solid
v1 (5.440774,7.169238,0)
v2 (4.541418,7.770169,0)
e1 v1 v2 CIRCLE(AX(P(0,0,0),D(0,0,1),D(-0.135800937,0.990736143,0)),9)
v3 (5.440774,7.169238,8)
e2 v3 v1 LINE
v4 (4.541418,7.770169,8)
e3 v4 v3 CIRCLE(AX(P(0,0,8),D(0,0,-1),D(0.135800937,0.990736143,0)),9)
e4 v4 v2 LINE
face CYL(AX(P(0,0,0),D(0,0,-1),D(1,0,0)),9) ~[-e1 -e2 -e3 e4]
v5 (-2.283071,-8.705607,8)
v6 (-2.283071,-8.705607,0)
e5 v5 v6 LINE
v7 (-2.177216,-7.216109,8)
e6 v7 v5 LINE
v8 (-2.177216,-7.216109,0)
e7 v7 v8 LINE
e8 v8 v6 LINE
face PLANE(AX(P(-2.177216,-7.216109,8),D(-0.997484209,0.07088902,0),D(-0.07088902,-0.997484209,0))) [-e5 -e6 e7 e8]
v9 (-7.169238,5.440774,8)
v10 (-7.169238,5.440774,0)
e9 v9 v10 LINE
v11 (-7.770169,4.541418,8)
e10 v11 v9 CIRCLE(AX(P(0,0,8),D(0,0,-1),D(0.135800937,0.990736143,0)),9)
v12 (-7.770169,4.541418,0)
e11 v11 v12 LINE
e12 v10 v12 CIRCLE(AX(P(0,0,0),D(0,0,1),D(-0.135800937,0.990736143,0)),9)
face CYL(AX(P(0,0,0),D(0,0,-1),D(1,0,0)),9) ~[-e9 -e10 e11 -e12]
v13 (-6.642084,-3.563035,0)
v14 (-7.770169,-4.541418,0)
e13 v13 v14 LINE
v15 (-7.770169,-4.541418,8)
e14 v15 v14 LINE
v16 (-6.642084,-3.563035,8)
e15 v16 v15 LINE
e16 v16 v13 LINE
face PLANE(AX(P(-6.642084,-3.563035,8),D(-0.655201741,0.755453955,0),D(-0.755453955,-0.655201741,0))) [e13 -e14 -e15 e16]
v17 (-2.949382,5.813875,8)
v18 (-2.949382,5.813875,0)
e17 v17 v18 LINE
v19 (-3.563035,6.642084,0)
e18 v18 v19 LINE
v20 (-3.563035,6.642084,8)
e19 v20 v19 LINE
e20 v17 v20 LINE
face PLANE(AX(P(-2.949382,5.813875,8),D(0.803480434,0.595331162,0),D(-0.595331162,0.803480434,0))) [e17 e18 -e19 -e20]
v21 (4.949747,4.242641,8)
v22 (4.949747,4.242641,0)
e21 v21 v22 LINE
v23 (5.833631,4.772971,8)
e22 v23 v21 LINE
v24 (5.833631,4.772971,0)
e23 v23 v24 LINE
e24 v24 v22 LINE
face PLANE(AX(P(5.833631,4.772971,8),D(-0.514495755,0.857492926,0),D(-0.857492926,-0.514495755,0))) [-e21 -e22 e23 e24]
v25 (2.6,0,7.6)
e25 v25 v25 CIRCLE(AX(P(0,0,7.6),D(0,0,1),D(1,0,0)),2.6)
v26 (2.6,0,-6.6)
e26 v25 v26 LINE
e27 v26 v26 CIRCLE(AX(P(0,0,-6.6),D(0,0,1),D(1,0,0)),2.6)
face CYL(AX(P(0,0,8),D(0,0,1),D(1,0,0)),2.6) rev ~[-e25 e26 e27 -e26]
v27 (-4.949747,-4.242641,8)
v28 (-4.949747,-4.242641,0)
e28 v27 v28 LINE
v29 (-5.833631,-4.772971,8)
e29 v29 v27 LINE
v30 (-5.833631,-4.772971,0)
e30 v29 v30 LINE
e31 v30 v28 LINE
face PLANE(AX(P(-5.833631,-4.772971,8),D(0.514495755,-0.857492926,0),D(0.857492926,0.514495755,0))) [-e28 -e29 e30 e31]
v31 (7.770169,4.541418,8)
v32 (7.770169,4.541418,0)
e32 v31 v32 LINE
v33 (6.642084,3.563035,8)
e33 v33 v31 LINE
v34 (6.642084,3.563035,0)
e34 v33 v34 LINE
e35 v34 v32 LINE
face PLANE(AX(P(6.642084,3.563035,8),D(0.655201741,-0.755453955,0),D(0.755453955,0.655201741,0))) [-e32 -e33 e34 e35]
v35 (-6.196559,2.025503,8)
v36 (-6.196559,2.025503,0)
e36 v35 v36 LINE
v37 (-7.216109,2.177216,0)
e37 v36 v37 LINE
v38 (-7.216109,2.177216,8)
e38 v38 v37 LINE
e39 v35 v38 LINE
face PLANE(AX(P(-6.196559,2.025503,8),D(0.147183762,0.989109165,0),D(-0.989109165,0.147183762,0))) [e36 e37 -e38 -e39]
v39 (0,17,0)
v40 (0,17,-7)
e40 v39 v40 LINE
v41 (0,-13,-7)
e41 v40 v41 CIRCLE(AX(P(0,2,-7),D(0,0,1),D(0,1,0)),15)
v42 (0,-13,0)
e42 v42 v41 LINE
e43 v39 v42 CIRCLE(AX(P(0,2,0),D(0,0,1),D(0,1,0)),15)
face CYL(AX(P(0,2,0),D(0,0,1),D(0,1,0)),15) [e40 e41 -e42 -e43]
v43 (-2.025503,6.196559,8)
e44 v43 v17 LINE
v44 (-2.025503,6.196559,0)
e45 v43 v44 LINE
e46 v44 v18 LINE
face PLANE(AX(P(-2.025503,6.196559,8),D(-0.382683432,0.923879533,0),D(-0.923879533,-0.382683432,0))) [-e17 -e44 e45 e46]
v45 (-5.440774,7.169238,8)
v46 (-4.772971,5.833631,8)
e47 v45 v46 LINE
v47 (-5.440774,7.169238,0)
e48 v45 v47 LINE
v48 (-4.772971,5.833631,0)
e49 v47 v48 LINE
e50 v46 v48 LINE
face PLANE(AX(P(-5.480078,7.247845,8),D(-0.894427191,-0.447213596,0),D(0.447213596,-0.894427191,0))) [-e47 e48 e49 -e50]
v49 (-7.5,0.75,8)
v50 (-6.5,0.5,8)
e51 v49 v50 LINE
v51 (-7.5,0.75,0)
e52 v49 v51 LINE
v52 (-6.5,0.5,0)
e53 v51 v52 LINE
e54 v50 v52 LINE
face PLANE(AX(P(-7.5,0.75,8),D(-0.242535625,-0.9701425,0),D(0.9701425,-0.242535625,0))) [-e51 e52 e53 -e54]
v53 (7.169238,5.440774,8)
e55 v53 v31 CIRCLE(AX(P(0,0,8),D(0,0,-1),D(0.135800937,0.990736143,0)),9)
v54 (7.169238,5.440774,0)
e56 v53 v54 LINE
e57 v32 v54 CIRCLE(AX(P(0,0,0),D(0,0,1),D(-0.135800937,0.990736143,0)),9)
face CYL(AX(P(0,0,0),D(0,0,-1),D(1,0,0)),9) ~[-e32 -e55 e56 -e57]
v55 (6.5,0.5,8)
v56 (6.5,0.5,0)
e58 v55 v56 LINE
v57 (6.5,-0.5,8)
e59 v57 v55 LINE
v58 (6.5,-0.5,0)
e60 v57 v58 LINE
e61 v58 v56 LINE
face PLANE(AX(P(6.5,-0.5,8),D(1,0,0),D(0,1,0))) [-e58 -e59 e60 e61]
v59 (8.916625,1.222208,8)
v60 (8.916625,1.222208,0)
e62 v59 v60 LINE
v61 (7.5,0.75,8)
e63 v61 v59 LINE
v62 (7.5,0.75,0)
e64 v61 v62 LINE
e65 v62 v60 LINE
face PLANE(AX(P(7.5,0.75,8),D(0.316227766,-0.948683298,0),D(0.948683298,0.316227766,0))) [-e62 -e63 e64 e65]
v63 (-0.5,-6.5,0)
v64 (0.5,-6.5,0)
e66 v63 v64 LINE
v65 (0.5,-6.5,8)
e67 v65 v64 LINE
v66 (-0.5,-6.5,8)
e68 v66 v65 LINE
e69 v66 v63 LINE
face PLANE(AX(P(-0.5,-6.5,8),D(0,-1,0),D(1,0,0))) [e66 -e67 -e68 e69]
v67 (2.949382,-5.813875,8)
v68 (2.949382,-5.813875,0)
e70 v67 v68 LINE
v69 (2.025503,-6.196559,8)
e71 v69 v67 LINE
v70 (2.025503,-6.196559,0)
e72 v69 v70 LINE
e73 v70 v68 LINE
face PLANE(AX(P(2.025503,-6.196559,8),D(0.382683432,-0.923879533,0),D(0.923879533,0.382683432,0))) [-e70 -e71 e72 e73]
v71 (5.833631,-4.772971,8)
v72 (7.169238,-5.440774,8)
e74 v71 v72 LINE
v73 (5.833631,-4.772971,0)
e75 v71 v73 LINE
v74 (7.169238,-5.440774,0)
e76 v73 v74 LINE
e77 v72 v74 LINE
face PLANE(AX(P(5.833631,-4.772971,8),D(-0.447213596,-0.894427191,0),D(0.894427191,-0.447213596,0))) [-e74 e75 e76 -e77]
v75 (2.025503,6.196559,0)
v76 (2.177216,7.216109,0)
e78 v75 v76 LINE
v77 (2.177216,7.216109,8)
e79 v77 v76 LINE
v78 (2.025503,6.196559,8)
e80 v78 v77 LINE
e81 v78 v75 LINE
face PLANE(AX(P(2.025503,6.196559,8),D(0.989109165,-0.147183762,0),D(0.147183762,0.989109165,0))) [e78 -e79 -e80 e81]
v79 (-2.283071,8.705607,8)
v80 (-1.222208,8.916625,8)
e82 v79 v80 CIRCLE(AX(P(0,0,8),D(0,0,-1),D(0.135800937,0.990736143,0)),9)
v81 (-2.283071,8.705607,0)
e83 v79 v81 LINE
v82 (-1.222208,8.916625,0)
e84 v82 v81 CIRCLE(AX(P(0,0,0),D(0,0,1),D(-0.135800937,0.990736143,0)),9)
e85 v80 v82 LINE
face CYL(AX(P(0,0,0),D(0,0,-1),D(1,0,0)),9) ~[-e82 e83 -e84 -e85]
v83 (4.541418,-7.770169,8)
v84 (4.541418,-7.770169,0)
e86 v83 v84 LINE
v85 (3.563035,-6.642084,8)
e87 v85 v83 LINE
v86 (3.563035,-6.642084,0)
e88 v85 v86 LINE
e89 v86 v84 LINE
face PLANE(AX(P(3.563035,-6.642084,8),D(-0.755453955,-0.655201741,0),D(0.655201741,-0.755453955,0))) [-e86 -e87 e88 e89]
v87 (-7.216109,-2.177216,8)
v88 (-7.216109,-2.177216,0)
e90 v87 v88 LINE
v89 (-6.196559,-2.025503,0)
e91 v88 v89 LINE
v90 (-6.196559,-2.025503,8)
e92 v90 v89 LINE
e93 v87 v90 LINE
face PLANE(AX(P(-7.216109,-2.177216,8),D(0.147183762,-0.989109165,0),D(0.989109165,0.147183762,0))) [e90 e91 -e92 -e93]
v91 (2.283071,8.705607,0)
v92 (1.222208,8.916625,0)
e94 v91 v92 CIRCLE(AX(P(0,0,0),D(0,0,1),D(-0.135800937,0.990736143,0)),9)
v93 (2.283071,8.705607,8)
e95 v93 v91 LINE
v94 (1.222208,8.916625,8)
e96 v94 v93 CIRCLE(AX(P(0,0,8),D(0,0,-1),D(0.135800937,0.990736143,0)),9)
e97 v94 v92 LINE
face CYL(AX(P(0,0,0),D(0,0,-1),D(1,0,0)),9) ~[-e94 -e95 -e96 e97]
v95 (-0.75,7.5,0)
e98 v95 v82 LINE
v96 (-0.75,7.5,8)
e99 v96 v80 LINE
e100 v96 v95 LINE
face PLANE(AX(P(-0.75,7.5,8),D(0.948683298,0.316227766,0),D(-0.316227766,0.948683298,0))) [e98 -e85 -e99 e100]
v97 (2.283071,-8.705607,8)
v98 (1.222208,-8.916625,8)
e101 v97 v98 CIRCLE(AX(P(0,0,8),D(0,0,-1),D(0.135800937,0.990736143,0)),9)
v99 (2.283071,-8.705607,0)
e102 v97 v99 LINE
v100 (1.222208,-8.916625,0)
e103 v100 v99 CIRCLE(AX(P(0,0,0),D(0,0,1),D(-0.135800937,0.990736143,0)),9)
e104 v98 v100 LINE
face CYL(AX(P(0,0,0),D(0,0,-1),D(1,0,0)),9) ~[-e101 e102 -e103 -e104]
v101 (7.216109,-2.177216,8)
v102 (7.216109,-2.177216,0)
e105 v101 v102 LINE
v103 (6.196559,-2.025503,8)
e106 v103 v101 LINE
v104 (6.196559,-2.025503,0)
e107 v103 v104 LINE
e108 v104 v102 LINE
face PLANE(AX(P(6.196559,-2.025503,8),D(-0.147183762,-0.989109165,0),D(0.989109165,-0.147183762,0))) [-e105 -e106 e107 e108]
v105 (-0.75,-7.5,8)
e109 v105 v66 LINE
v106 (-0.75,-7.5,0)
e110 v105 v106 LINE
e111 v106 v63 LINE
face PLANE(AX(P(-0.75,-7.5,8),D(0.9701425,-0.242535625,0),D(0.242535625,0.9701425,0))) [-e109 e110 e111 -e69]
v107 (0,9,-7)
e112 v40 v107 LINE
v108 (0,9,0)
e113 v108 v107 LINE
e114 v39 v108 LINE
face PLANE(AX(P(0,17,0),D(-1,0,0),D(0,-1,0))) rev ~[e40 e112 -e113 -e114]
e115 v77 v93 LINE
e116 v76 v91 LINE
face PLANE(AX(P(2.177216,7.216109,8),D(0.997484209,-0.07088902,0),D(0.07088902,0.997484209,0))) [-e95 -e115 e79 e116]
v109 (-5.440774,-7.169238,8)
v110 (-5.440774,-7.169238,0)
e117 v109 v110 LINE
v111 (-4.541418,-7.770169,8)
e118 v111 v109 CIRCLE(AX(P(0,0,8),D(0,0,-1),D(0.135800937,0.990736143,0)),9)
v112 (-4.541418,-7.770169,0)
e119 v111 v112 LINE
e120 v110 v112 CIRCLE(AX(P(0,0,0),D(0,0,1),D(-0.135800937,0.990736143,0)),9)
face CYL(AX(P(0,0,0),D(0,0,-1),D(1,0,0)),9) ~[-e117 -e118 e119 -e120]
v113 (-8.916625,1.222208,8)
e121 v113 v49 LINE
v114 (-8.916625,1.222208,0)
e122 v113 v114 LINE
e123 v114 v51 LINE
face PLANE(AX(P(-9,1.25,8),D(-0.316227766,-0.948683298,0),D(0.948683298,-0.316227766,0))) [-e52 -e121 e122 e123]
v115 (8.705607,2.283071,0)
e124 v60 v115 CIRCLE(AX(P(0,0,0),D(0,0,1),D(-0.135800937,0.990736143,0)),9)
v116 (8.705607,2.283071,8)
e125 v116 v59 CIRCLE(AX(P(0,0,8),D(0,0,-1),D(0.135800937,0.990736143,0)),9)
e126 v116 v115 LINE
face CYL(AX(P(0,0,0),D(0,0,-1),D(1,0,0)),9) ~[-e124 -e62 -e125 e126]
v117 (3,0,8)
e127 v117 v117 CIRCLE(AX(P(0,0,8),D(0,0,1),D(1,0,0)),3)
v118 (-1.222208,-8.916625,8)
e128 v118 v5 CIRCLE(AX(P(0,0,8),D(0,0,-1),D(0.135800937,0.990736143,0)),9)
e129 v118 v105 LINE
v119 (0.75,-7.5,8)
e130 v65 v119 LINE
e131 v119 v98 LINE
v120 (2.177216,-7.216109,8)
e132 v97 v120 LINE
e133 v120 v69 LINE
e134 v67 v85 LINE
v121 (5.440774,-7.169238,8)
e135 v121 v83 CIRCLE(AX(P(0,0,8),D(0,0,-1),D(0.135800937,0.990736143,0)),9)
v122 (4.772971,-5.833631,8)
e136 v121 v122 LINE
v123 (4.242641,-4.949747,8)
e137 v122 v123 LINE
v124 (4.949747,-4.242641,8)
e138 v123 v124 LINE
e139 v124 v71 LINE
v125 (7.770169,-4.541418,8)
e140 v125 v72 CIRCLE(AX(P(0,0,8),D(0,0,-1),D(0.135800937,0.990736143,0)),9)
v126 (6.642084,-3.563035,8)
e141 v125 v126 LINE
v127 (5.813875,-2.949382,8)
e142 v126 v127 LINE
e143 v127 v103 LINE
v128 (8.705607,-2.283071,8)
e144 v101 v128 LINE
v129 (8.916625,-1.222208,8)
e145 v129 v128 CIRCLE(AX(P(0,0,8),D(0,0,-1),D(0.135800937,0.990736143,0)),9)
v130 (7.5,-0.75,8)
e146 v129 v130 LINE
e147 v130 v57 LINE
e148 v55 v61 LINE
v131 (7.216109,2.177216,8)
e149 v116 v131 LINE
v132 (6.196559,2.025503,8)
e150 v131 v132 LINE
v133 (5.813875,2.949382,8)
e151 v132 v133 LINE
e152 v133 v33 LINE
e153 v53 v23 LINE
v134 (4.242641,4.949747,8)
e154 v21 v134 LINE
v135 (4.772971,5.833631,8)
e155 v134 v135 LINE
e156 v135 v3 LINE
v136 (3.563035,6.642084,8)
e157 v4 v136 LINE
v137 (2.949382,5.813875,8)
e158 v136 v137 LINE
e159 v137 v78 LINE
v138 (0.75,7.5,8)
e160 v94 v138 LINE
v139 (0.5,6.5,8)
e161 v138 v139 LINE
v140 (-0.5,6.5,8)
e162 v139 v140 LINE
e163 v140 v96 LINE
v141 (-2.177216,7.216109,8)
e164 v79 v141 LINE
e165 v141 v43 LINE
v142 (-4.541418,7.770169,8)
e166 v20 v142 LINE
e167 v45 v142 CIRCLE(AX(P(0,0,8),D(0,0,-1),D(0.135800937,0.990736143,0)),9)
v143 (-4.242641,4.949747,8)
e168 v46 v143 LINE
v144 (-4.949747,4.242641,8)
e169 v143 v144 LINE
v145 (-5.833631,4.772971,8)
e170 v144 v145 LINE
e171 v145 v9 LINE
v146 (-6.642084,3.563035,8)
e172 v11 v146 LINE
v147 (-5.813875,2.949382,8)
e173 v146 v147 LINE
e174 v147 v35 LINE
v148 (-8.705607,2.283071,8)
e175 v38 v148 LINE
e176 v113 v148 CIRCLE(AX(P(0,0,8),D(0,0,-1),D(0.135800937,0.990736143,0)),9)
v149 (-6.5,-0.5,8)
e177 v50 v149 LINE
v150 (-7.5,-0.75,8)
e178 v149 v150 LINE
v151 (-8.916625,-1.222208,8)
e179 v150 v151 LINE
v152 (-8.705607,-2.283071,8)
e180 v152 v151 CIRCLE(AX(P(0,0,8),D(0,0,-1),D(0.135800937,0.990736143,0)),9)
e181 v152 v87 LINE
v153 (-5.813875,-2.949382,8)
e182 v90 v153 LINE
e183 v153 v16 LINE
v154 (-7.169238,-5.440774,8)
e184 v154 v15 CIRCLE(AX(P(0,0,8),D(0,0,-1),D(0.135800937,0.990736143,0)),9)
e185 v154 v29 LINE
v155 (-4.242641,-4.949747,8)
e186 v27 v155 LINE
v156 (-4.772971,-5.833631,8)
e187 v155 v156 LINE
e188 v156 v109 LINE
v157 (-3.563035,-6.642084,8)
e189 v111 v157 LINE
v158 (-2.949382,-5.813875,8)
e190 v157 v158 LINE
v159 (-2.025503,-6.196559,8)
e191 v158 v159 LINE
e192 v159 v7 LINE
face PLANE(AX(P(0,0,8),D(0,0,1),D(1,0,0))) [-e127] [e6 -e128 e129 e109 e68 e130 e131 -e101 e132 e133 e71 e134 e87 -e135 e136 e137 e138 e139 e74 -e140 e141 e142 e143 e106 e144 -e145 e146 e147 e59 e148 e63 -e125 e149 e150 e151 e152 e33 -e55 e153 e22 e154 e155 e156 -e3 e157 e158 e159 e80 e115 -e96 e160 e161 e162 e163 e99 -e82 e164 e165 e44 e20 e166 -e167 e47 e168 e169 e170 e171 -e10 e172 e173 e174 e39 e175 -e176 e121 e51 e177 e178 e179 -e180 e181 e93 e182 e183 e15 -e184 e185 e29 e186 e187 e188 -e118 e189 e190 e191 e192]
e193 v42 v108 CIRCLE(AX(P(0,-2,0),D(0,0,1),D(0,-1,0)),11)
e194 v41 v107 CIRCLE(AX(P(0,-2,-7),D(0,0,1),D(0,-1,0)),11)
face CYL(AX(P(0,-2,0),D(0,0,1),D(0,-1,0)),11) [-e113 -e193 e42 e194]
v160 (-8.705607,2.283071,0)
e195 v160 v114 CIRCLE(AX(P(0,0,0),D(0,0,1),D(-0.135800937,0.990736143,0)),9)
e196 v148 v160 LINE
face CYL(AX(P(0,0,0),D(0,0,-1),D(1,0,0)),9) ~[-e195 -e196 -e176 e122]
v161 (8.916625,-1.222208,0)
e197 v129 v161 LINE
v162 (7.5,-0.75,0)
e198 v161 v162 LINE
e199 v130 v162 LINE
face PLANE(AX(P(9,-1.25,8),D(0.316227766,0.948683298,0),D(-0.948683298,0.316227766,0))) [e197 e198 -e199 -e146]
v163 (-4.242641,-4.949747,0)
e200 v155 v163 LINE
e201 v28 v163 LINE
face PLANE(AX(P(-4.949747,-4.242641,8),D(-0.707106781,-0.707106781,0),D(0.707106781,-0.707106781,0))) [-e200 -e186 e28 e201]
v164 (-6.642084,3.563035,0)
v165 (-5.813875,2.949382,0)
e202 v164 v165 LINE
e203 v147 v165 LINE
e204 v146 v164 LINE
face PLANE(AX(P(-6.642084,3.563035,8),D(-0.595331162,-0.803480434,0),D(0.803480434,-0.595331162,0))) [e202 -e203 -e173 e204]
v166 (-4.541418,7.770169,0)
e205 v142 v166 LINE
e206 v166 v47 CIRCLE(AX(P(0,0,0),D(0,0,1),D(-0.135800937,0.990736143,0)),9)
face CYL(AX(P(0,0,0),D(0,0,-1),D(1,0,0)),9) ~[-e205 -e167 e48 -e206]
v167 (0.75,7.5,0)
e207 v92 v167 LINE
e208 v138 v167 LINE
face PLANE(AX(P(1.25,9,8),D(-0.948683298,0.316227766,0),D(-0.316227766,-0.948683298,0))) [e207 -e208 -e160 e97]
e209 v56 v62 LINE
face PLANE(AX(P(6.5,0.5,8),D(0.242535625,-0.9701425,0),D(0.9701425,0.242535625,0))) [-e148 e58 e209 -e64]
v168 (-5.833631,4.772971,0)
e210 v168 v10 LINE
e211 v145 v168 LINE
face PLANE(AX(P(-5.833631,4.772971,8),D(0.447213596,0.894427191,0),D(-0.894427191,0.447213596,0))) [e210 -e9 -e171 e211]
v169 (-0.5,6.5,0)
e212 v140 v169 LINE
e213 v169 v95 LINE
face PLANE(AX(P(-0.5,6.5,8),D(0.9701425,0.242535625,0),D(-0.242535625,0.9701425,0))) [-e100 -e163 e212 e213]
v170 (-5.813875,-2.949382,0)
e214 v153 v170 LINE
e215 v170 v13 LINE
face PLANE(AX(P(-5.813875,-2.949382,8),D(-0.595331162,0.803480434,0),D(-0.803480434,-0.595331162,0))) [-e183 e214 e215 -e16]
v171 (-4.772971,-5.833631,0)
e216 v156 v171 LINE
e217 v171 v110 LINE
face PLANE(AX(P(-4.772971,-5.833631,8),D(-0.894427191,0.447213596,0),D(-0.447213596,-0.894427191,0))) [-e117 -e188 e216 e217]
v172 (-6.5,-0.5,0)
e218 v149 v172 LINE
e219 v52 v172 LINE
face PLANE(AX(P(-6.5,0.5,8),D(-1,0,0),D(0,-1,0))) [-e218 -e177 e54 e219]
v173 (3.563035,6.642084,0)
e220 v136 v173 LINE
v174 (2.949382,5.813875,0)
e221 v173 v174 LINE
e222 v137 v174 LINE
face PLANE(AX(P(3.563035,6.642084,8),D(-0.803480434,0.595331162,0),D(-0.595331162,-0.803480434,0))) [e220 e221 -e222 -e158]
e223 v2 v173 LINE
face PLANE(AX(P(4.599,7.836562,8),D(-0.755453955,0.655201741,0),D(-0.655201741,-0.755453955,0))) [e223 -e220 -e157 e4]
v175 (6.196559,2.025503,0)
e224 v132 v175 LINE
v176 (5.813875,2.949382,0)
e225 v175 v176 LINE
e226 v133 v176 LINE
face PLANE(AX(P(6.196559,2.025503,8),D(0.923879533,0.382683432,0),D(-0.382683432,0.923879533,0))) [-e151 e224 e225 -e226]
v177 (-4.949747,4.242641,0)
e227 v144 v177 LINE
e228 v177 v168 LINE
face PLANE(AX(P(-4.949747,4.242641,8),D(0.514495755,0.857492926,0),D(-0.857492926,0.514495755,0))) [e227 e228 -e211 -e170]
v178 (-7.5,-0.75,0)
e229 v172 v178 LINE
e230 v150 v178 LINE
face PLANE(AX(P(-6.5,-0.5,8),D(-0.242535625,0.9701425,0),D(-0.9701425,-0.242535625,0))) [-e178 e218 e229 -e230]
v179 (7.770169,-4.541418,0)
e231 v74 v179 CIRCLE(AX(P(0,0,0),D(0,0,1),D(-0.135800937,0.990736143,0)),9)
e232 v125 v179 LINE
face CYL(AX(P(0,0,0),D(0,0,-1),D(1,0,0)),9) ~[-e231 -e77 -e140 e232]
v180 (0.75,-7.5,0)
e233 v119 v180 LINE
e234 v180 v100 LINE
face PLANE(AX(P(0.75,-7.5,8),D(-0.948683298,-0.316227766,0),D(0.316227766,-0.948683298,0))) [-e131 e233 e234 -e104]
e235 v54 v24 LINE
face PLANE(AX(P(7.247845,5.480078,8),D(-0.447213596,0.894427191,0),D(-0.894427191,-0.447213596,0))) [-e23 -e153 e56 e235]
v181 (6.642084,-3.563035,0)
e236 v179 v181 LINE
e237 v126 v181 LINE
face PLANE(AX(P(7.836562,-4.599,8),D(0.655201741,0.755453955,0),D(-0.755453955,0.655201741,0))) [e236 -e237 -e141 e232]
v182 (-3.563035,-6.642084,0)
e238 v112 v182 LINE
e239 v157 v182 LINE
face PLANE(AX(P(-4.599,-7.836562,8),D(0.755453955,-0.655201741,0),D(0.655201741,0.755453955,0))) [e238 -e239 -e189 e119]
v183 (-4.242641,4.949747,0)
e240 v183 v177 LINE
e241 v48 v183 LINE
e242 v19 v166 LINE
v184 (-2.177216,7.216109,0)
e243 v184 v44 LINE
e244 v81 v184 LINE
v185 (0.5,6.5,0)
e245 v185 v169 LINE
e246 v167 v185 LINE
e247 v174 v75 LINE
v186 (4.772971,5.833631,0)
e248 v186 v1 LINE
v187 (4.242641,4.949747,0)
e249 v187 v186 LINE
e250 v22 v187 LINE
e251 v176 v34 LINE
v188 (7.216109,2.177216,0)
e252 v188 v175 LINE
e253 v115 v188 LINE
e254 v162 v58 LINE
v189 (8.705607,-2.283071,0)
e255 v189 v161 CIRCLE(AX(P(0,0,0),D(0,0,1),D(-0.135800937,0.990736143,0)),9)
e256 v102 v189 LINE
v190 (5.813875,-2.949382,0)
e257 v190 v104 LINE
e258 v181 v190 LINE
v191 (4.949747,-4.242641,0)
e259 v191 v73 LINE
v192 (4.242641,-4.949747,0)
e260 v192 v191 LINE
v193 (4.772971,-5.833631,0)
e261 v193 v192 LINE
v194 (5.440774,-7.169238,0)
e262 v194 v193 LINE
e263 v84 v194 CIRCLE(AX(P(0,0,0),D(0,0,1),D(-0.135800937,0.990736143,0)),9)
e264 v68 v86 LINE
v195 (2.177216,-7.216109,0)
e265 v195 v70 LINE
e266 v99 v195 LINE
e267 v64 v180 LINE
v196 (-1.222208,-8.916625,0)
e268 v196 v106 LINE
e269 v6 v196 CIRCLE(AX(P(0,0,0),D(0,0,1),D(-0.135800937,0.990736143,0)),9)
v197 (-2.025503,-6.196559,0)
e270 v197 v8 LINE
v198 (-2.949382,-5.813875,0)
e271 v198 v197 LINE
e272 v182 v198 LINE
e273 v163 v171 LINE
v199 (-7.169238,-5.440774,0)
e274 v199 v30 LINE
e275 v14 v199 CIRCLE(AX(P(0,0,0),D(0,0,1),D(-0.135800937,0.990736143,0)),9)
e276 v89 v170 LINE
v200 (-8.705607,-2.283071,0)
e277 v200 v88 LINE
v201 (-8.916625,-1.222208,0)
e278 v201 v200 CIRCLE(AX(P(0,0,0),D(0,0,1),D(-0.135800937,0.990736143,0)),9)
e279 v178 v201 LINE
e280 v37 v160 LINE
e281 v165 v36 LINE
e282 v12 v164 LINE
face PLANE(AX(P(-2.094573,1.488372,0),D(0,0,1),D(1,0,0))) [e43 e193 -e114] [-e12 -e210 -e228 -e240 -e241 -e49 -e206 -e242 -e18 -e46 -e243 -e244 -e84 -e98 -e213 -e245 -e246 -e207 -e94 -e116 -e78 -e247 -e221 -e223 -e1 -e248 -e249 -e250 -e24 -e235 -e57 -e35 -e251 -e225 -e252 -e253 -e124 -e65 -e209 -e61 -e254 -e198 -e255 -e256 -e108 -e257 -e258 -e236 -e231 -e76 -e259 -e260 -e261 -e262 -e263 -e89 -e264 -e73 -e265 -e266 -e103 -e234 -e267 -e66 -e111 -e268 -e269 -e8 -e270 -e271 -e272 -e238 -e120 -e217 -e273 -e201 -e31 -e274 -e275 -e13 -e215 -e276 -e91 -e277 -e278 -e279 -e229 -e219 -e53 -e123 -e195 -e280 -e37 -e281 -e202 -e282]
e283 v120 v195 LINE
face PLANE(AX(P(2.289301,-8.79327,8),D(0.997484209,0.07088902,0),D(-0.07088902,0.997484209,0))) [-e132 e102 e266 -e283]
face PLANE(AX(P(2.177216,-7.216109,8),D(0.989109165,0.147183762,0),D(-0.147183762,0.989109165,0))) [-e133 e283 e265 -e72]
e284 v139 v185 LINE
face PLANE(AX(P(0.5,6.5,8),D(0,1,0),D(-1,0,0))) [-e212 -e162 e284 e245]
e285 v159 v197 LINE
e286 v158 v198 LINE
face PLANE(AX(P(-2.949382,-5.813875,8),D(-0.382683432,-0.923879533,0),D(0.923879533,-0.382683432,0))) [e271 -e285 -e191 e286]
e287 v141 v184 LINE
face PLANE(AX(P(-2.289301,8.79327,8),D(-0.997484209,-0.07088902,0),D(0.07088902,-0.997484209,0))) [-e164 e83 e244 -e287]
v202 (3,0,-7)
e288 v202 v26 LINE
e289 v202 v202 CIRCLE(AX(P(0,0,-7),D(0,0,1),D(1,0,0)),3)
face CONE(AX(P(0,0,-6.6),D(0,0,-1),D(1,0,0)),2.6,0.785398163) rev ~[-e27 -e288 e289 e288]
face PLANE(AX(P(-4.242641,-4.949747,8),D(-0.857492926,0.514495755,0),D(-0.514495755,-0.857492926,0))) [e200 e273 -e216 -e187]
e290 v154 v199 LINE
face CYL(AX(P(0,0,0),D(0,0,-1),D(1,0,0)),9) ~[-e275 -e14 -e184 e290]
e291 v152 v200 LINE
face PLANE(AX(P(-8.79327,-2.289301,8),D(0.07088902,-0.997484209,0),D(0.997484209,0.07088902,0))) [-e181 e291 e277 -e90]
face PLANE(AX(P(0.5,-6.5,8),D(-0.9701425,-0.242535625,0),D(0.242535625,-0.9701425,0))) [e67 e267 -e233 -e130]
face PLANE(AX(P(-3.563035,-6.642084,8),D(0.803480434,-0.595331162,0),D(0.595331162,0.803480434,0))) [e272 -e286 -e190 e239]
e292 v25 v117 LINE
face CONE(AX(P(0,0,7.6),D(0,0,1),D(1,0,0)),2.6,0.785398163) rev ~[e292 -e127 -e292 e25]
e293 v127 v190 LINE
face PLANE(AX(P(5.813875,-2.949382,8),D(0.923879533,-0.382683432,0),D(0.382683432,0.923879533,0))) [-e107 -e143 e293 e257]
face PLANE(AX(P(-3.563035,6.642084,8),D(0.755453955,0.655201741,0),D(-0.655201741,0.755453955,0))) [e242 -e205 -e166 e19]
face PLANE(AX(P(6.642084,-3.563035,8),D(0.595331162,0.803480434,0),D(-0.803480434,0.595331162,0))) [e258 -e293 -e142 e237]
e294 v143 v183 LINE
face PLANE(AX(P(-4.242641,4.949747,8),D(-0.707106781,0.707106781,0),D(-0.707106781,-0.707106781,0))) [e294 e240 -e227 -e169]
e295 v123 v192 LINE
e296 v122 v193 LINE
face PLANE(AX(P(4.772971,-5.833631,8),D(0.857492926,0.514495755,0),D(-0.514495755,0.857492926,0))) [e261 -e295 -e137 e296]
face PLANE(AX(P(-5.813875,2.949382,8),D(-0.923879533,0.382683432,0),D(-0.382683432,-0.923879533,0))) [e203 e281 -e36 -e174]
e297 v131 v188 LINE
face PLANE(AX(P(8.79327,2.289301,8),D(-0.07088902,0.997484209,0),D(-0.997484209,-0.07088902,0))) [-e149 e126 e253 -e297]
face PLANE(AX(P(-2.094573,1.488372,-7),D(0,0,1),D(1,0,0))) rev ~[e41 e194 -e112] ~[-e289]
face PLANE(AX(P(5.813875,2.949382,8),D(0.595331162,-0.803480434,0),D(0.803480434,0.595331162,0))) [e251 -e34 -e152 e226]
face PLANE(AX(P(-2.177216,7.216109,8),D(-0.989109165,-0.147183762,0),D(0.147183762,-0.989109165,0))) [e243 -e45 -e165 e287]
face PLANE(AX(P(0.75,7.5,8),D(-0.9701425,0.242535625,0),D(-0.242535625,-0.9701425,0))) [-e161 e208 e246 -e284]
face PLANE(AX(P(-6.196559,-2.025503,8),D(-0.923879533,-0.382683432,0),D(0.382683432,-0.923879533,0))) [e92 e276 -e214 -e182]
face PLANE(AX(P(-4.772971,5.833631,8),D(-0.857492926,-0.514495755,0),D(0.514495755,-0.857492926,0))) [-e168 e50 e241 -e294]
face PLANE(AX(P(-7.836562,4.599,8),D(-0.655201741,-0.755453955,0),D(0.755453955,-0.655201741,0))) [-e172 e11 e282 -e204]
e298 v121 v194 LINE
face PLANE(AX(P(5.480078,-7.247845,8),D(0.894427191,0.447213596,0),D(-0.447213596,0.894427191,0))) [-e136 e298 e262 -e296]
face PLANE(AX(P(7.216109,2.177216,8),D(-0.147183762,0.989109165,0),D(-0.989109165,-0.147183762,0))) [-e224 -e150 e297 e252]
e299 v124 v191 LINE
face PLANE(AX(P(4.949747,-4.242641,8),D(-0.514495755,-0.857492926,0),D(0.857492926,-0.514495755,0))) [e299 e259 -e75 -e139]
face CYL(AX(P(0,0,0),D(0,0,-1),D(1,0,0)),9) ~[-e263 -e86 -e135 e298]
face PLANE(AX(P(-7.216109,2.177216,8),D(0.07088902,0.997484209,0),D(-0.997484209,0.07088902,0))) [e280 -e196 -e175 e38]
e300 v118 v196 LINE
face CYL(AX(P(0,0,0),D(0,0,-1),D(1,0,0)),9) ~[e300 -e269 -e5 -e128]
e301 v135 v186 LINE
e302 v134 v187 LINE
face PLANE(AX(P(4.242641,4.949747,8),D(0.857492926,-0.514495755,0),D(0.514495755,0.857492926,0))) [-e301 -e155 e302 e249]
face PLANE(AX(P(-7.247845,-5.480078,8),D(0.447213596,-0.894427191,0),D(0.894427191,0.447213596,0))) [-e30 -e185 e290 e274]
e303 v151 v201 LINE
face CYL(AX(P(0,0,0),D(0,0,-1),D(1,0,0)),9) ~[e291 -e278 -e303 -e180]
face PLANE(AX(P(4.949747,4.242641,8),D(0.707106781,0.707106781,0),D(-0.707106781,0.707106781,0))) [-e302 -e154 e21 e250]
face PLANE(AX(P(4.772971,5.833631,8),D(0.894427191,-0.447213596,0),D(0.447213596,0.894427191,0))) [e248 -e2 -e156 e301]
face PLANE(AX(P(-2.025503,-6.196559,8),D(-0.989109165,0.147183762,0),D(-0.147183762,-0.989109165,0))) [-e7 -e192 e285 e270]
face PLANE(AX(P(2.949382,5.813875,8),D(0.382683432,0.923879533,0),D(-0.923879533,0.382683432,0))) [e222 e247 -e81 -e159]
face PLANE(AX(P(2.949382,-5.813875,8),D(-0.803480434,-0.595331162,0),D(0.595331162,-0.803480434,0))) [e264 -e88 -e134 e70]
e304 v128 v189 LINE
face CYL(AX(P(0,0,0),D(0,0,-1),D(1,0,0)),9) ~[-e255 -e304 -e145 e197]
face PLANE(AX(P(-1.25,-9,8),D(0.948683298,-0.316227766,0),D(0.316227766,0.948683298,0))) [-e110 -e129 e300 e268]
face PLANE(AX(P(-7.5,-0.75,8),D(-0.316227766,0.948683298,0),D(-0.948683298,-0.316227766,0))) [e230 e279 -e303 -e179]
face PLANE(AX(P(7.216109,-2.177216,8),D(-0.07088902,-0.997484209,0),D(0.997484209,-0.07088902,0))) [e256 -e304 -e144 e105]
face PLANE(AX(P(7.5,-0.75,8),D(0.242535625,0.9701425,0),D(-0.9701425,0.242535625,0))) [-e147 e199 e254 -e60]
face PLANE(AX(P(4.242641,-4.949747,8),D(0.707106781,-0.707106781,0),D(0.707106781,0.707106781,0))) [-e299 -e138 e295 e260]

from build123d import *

# Parameters (mm, degrees)
PAD_DEPTH          = 7
SKETCH001_R        = 9
PAD001_DEPTH       = 8
POCKET_DEPTH       = 8
SKETCH003_R        = 2.6
POCKET001_DEPTH    = 16
POLARPATTERN_COUNT = 16
CHAMFER_SIZE       = 0.4


with BuildPart() as part:
    # Sketch → Pad (new body)
    with BuildSketch(Plane.XY):
        with BuildLine():
            ThreePointArc((0, -13), (11, -2), (0, 9))
            Line((0, 17), (0, 9))
            ThreePointArc((0, 17), (-15, 2), (0, -13))
        make_face()
    extrude(amount=-PAD_DEPTH)

    # Sketch001 (on Face4 of Pad) → Pad001 (join)
    with BuildSketch(Plane.XY):
        Circle(SKETCH001_R)
    extrude(amount=PAD001_DEPTH)

    # Sketch002 (on Face7 of Pad001) → Pocket (cut)
    with BuildSketch(Plane.XY.offset(8)):
        Polygon((1.25, 9), (0.75, 7.5), (0.5, 6.5), (-0.5, 6.5), (-0.75, 7.5), (-1.25, 9), align=None)
    pocket = extrude(amount=-POCKET_DEPTH, mode=Mode.SUBTRACT)

    # Sketch003 (on Face7 of Pad001) → Pocket001 (cut)
    with BuildSketch(Plane.XY.offset(8)):
        Circle(SKETCH003_R)
    extrude(amount=-POCKET001_DEPTH, mode=Mode.SUBTRACT)

    # PolarPattern: Pocket ×16 about axis
    polarpattern_axis = Axis((0, 0, 8), (0, 0, 1))
    for i in range(1, POLARPATTERN_COUNT):
        add(pocket.rotate(polarpattern_axis, i * 360 / POLARPATTERN_COUNT), mode=Mode.SUBTRACT)

    # Chamfer
    chamfer_edges = [part.edges().sort_by_distance(p)[0] for p in [
        (-2.6, 0, 8),
        (-2.6, 0, -7),
    ]]
    chamfer(chamfer_edges, length=CHAMFER_SIZE)


solid = part.part
